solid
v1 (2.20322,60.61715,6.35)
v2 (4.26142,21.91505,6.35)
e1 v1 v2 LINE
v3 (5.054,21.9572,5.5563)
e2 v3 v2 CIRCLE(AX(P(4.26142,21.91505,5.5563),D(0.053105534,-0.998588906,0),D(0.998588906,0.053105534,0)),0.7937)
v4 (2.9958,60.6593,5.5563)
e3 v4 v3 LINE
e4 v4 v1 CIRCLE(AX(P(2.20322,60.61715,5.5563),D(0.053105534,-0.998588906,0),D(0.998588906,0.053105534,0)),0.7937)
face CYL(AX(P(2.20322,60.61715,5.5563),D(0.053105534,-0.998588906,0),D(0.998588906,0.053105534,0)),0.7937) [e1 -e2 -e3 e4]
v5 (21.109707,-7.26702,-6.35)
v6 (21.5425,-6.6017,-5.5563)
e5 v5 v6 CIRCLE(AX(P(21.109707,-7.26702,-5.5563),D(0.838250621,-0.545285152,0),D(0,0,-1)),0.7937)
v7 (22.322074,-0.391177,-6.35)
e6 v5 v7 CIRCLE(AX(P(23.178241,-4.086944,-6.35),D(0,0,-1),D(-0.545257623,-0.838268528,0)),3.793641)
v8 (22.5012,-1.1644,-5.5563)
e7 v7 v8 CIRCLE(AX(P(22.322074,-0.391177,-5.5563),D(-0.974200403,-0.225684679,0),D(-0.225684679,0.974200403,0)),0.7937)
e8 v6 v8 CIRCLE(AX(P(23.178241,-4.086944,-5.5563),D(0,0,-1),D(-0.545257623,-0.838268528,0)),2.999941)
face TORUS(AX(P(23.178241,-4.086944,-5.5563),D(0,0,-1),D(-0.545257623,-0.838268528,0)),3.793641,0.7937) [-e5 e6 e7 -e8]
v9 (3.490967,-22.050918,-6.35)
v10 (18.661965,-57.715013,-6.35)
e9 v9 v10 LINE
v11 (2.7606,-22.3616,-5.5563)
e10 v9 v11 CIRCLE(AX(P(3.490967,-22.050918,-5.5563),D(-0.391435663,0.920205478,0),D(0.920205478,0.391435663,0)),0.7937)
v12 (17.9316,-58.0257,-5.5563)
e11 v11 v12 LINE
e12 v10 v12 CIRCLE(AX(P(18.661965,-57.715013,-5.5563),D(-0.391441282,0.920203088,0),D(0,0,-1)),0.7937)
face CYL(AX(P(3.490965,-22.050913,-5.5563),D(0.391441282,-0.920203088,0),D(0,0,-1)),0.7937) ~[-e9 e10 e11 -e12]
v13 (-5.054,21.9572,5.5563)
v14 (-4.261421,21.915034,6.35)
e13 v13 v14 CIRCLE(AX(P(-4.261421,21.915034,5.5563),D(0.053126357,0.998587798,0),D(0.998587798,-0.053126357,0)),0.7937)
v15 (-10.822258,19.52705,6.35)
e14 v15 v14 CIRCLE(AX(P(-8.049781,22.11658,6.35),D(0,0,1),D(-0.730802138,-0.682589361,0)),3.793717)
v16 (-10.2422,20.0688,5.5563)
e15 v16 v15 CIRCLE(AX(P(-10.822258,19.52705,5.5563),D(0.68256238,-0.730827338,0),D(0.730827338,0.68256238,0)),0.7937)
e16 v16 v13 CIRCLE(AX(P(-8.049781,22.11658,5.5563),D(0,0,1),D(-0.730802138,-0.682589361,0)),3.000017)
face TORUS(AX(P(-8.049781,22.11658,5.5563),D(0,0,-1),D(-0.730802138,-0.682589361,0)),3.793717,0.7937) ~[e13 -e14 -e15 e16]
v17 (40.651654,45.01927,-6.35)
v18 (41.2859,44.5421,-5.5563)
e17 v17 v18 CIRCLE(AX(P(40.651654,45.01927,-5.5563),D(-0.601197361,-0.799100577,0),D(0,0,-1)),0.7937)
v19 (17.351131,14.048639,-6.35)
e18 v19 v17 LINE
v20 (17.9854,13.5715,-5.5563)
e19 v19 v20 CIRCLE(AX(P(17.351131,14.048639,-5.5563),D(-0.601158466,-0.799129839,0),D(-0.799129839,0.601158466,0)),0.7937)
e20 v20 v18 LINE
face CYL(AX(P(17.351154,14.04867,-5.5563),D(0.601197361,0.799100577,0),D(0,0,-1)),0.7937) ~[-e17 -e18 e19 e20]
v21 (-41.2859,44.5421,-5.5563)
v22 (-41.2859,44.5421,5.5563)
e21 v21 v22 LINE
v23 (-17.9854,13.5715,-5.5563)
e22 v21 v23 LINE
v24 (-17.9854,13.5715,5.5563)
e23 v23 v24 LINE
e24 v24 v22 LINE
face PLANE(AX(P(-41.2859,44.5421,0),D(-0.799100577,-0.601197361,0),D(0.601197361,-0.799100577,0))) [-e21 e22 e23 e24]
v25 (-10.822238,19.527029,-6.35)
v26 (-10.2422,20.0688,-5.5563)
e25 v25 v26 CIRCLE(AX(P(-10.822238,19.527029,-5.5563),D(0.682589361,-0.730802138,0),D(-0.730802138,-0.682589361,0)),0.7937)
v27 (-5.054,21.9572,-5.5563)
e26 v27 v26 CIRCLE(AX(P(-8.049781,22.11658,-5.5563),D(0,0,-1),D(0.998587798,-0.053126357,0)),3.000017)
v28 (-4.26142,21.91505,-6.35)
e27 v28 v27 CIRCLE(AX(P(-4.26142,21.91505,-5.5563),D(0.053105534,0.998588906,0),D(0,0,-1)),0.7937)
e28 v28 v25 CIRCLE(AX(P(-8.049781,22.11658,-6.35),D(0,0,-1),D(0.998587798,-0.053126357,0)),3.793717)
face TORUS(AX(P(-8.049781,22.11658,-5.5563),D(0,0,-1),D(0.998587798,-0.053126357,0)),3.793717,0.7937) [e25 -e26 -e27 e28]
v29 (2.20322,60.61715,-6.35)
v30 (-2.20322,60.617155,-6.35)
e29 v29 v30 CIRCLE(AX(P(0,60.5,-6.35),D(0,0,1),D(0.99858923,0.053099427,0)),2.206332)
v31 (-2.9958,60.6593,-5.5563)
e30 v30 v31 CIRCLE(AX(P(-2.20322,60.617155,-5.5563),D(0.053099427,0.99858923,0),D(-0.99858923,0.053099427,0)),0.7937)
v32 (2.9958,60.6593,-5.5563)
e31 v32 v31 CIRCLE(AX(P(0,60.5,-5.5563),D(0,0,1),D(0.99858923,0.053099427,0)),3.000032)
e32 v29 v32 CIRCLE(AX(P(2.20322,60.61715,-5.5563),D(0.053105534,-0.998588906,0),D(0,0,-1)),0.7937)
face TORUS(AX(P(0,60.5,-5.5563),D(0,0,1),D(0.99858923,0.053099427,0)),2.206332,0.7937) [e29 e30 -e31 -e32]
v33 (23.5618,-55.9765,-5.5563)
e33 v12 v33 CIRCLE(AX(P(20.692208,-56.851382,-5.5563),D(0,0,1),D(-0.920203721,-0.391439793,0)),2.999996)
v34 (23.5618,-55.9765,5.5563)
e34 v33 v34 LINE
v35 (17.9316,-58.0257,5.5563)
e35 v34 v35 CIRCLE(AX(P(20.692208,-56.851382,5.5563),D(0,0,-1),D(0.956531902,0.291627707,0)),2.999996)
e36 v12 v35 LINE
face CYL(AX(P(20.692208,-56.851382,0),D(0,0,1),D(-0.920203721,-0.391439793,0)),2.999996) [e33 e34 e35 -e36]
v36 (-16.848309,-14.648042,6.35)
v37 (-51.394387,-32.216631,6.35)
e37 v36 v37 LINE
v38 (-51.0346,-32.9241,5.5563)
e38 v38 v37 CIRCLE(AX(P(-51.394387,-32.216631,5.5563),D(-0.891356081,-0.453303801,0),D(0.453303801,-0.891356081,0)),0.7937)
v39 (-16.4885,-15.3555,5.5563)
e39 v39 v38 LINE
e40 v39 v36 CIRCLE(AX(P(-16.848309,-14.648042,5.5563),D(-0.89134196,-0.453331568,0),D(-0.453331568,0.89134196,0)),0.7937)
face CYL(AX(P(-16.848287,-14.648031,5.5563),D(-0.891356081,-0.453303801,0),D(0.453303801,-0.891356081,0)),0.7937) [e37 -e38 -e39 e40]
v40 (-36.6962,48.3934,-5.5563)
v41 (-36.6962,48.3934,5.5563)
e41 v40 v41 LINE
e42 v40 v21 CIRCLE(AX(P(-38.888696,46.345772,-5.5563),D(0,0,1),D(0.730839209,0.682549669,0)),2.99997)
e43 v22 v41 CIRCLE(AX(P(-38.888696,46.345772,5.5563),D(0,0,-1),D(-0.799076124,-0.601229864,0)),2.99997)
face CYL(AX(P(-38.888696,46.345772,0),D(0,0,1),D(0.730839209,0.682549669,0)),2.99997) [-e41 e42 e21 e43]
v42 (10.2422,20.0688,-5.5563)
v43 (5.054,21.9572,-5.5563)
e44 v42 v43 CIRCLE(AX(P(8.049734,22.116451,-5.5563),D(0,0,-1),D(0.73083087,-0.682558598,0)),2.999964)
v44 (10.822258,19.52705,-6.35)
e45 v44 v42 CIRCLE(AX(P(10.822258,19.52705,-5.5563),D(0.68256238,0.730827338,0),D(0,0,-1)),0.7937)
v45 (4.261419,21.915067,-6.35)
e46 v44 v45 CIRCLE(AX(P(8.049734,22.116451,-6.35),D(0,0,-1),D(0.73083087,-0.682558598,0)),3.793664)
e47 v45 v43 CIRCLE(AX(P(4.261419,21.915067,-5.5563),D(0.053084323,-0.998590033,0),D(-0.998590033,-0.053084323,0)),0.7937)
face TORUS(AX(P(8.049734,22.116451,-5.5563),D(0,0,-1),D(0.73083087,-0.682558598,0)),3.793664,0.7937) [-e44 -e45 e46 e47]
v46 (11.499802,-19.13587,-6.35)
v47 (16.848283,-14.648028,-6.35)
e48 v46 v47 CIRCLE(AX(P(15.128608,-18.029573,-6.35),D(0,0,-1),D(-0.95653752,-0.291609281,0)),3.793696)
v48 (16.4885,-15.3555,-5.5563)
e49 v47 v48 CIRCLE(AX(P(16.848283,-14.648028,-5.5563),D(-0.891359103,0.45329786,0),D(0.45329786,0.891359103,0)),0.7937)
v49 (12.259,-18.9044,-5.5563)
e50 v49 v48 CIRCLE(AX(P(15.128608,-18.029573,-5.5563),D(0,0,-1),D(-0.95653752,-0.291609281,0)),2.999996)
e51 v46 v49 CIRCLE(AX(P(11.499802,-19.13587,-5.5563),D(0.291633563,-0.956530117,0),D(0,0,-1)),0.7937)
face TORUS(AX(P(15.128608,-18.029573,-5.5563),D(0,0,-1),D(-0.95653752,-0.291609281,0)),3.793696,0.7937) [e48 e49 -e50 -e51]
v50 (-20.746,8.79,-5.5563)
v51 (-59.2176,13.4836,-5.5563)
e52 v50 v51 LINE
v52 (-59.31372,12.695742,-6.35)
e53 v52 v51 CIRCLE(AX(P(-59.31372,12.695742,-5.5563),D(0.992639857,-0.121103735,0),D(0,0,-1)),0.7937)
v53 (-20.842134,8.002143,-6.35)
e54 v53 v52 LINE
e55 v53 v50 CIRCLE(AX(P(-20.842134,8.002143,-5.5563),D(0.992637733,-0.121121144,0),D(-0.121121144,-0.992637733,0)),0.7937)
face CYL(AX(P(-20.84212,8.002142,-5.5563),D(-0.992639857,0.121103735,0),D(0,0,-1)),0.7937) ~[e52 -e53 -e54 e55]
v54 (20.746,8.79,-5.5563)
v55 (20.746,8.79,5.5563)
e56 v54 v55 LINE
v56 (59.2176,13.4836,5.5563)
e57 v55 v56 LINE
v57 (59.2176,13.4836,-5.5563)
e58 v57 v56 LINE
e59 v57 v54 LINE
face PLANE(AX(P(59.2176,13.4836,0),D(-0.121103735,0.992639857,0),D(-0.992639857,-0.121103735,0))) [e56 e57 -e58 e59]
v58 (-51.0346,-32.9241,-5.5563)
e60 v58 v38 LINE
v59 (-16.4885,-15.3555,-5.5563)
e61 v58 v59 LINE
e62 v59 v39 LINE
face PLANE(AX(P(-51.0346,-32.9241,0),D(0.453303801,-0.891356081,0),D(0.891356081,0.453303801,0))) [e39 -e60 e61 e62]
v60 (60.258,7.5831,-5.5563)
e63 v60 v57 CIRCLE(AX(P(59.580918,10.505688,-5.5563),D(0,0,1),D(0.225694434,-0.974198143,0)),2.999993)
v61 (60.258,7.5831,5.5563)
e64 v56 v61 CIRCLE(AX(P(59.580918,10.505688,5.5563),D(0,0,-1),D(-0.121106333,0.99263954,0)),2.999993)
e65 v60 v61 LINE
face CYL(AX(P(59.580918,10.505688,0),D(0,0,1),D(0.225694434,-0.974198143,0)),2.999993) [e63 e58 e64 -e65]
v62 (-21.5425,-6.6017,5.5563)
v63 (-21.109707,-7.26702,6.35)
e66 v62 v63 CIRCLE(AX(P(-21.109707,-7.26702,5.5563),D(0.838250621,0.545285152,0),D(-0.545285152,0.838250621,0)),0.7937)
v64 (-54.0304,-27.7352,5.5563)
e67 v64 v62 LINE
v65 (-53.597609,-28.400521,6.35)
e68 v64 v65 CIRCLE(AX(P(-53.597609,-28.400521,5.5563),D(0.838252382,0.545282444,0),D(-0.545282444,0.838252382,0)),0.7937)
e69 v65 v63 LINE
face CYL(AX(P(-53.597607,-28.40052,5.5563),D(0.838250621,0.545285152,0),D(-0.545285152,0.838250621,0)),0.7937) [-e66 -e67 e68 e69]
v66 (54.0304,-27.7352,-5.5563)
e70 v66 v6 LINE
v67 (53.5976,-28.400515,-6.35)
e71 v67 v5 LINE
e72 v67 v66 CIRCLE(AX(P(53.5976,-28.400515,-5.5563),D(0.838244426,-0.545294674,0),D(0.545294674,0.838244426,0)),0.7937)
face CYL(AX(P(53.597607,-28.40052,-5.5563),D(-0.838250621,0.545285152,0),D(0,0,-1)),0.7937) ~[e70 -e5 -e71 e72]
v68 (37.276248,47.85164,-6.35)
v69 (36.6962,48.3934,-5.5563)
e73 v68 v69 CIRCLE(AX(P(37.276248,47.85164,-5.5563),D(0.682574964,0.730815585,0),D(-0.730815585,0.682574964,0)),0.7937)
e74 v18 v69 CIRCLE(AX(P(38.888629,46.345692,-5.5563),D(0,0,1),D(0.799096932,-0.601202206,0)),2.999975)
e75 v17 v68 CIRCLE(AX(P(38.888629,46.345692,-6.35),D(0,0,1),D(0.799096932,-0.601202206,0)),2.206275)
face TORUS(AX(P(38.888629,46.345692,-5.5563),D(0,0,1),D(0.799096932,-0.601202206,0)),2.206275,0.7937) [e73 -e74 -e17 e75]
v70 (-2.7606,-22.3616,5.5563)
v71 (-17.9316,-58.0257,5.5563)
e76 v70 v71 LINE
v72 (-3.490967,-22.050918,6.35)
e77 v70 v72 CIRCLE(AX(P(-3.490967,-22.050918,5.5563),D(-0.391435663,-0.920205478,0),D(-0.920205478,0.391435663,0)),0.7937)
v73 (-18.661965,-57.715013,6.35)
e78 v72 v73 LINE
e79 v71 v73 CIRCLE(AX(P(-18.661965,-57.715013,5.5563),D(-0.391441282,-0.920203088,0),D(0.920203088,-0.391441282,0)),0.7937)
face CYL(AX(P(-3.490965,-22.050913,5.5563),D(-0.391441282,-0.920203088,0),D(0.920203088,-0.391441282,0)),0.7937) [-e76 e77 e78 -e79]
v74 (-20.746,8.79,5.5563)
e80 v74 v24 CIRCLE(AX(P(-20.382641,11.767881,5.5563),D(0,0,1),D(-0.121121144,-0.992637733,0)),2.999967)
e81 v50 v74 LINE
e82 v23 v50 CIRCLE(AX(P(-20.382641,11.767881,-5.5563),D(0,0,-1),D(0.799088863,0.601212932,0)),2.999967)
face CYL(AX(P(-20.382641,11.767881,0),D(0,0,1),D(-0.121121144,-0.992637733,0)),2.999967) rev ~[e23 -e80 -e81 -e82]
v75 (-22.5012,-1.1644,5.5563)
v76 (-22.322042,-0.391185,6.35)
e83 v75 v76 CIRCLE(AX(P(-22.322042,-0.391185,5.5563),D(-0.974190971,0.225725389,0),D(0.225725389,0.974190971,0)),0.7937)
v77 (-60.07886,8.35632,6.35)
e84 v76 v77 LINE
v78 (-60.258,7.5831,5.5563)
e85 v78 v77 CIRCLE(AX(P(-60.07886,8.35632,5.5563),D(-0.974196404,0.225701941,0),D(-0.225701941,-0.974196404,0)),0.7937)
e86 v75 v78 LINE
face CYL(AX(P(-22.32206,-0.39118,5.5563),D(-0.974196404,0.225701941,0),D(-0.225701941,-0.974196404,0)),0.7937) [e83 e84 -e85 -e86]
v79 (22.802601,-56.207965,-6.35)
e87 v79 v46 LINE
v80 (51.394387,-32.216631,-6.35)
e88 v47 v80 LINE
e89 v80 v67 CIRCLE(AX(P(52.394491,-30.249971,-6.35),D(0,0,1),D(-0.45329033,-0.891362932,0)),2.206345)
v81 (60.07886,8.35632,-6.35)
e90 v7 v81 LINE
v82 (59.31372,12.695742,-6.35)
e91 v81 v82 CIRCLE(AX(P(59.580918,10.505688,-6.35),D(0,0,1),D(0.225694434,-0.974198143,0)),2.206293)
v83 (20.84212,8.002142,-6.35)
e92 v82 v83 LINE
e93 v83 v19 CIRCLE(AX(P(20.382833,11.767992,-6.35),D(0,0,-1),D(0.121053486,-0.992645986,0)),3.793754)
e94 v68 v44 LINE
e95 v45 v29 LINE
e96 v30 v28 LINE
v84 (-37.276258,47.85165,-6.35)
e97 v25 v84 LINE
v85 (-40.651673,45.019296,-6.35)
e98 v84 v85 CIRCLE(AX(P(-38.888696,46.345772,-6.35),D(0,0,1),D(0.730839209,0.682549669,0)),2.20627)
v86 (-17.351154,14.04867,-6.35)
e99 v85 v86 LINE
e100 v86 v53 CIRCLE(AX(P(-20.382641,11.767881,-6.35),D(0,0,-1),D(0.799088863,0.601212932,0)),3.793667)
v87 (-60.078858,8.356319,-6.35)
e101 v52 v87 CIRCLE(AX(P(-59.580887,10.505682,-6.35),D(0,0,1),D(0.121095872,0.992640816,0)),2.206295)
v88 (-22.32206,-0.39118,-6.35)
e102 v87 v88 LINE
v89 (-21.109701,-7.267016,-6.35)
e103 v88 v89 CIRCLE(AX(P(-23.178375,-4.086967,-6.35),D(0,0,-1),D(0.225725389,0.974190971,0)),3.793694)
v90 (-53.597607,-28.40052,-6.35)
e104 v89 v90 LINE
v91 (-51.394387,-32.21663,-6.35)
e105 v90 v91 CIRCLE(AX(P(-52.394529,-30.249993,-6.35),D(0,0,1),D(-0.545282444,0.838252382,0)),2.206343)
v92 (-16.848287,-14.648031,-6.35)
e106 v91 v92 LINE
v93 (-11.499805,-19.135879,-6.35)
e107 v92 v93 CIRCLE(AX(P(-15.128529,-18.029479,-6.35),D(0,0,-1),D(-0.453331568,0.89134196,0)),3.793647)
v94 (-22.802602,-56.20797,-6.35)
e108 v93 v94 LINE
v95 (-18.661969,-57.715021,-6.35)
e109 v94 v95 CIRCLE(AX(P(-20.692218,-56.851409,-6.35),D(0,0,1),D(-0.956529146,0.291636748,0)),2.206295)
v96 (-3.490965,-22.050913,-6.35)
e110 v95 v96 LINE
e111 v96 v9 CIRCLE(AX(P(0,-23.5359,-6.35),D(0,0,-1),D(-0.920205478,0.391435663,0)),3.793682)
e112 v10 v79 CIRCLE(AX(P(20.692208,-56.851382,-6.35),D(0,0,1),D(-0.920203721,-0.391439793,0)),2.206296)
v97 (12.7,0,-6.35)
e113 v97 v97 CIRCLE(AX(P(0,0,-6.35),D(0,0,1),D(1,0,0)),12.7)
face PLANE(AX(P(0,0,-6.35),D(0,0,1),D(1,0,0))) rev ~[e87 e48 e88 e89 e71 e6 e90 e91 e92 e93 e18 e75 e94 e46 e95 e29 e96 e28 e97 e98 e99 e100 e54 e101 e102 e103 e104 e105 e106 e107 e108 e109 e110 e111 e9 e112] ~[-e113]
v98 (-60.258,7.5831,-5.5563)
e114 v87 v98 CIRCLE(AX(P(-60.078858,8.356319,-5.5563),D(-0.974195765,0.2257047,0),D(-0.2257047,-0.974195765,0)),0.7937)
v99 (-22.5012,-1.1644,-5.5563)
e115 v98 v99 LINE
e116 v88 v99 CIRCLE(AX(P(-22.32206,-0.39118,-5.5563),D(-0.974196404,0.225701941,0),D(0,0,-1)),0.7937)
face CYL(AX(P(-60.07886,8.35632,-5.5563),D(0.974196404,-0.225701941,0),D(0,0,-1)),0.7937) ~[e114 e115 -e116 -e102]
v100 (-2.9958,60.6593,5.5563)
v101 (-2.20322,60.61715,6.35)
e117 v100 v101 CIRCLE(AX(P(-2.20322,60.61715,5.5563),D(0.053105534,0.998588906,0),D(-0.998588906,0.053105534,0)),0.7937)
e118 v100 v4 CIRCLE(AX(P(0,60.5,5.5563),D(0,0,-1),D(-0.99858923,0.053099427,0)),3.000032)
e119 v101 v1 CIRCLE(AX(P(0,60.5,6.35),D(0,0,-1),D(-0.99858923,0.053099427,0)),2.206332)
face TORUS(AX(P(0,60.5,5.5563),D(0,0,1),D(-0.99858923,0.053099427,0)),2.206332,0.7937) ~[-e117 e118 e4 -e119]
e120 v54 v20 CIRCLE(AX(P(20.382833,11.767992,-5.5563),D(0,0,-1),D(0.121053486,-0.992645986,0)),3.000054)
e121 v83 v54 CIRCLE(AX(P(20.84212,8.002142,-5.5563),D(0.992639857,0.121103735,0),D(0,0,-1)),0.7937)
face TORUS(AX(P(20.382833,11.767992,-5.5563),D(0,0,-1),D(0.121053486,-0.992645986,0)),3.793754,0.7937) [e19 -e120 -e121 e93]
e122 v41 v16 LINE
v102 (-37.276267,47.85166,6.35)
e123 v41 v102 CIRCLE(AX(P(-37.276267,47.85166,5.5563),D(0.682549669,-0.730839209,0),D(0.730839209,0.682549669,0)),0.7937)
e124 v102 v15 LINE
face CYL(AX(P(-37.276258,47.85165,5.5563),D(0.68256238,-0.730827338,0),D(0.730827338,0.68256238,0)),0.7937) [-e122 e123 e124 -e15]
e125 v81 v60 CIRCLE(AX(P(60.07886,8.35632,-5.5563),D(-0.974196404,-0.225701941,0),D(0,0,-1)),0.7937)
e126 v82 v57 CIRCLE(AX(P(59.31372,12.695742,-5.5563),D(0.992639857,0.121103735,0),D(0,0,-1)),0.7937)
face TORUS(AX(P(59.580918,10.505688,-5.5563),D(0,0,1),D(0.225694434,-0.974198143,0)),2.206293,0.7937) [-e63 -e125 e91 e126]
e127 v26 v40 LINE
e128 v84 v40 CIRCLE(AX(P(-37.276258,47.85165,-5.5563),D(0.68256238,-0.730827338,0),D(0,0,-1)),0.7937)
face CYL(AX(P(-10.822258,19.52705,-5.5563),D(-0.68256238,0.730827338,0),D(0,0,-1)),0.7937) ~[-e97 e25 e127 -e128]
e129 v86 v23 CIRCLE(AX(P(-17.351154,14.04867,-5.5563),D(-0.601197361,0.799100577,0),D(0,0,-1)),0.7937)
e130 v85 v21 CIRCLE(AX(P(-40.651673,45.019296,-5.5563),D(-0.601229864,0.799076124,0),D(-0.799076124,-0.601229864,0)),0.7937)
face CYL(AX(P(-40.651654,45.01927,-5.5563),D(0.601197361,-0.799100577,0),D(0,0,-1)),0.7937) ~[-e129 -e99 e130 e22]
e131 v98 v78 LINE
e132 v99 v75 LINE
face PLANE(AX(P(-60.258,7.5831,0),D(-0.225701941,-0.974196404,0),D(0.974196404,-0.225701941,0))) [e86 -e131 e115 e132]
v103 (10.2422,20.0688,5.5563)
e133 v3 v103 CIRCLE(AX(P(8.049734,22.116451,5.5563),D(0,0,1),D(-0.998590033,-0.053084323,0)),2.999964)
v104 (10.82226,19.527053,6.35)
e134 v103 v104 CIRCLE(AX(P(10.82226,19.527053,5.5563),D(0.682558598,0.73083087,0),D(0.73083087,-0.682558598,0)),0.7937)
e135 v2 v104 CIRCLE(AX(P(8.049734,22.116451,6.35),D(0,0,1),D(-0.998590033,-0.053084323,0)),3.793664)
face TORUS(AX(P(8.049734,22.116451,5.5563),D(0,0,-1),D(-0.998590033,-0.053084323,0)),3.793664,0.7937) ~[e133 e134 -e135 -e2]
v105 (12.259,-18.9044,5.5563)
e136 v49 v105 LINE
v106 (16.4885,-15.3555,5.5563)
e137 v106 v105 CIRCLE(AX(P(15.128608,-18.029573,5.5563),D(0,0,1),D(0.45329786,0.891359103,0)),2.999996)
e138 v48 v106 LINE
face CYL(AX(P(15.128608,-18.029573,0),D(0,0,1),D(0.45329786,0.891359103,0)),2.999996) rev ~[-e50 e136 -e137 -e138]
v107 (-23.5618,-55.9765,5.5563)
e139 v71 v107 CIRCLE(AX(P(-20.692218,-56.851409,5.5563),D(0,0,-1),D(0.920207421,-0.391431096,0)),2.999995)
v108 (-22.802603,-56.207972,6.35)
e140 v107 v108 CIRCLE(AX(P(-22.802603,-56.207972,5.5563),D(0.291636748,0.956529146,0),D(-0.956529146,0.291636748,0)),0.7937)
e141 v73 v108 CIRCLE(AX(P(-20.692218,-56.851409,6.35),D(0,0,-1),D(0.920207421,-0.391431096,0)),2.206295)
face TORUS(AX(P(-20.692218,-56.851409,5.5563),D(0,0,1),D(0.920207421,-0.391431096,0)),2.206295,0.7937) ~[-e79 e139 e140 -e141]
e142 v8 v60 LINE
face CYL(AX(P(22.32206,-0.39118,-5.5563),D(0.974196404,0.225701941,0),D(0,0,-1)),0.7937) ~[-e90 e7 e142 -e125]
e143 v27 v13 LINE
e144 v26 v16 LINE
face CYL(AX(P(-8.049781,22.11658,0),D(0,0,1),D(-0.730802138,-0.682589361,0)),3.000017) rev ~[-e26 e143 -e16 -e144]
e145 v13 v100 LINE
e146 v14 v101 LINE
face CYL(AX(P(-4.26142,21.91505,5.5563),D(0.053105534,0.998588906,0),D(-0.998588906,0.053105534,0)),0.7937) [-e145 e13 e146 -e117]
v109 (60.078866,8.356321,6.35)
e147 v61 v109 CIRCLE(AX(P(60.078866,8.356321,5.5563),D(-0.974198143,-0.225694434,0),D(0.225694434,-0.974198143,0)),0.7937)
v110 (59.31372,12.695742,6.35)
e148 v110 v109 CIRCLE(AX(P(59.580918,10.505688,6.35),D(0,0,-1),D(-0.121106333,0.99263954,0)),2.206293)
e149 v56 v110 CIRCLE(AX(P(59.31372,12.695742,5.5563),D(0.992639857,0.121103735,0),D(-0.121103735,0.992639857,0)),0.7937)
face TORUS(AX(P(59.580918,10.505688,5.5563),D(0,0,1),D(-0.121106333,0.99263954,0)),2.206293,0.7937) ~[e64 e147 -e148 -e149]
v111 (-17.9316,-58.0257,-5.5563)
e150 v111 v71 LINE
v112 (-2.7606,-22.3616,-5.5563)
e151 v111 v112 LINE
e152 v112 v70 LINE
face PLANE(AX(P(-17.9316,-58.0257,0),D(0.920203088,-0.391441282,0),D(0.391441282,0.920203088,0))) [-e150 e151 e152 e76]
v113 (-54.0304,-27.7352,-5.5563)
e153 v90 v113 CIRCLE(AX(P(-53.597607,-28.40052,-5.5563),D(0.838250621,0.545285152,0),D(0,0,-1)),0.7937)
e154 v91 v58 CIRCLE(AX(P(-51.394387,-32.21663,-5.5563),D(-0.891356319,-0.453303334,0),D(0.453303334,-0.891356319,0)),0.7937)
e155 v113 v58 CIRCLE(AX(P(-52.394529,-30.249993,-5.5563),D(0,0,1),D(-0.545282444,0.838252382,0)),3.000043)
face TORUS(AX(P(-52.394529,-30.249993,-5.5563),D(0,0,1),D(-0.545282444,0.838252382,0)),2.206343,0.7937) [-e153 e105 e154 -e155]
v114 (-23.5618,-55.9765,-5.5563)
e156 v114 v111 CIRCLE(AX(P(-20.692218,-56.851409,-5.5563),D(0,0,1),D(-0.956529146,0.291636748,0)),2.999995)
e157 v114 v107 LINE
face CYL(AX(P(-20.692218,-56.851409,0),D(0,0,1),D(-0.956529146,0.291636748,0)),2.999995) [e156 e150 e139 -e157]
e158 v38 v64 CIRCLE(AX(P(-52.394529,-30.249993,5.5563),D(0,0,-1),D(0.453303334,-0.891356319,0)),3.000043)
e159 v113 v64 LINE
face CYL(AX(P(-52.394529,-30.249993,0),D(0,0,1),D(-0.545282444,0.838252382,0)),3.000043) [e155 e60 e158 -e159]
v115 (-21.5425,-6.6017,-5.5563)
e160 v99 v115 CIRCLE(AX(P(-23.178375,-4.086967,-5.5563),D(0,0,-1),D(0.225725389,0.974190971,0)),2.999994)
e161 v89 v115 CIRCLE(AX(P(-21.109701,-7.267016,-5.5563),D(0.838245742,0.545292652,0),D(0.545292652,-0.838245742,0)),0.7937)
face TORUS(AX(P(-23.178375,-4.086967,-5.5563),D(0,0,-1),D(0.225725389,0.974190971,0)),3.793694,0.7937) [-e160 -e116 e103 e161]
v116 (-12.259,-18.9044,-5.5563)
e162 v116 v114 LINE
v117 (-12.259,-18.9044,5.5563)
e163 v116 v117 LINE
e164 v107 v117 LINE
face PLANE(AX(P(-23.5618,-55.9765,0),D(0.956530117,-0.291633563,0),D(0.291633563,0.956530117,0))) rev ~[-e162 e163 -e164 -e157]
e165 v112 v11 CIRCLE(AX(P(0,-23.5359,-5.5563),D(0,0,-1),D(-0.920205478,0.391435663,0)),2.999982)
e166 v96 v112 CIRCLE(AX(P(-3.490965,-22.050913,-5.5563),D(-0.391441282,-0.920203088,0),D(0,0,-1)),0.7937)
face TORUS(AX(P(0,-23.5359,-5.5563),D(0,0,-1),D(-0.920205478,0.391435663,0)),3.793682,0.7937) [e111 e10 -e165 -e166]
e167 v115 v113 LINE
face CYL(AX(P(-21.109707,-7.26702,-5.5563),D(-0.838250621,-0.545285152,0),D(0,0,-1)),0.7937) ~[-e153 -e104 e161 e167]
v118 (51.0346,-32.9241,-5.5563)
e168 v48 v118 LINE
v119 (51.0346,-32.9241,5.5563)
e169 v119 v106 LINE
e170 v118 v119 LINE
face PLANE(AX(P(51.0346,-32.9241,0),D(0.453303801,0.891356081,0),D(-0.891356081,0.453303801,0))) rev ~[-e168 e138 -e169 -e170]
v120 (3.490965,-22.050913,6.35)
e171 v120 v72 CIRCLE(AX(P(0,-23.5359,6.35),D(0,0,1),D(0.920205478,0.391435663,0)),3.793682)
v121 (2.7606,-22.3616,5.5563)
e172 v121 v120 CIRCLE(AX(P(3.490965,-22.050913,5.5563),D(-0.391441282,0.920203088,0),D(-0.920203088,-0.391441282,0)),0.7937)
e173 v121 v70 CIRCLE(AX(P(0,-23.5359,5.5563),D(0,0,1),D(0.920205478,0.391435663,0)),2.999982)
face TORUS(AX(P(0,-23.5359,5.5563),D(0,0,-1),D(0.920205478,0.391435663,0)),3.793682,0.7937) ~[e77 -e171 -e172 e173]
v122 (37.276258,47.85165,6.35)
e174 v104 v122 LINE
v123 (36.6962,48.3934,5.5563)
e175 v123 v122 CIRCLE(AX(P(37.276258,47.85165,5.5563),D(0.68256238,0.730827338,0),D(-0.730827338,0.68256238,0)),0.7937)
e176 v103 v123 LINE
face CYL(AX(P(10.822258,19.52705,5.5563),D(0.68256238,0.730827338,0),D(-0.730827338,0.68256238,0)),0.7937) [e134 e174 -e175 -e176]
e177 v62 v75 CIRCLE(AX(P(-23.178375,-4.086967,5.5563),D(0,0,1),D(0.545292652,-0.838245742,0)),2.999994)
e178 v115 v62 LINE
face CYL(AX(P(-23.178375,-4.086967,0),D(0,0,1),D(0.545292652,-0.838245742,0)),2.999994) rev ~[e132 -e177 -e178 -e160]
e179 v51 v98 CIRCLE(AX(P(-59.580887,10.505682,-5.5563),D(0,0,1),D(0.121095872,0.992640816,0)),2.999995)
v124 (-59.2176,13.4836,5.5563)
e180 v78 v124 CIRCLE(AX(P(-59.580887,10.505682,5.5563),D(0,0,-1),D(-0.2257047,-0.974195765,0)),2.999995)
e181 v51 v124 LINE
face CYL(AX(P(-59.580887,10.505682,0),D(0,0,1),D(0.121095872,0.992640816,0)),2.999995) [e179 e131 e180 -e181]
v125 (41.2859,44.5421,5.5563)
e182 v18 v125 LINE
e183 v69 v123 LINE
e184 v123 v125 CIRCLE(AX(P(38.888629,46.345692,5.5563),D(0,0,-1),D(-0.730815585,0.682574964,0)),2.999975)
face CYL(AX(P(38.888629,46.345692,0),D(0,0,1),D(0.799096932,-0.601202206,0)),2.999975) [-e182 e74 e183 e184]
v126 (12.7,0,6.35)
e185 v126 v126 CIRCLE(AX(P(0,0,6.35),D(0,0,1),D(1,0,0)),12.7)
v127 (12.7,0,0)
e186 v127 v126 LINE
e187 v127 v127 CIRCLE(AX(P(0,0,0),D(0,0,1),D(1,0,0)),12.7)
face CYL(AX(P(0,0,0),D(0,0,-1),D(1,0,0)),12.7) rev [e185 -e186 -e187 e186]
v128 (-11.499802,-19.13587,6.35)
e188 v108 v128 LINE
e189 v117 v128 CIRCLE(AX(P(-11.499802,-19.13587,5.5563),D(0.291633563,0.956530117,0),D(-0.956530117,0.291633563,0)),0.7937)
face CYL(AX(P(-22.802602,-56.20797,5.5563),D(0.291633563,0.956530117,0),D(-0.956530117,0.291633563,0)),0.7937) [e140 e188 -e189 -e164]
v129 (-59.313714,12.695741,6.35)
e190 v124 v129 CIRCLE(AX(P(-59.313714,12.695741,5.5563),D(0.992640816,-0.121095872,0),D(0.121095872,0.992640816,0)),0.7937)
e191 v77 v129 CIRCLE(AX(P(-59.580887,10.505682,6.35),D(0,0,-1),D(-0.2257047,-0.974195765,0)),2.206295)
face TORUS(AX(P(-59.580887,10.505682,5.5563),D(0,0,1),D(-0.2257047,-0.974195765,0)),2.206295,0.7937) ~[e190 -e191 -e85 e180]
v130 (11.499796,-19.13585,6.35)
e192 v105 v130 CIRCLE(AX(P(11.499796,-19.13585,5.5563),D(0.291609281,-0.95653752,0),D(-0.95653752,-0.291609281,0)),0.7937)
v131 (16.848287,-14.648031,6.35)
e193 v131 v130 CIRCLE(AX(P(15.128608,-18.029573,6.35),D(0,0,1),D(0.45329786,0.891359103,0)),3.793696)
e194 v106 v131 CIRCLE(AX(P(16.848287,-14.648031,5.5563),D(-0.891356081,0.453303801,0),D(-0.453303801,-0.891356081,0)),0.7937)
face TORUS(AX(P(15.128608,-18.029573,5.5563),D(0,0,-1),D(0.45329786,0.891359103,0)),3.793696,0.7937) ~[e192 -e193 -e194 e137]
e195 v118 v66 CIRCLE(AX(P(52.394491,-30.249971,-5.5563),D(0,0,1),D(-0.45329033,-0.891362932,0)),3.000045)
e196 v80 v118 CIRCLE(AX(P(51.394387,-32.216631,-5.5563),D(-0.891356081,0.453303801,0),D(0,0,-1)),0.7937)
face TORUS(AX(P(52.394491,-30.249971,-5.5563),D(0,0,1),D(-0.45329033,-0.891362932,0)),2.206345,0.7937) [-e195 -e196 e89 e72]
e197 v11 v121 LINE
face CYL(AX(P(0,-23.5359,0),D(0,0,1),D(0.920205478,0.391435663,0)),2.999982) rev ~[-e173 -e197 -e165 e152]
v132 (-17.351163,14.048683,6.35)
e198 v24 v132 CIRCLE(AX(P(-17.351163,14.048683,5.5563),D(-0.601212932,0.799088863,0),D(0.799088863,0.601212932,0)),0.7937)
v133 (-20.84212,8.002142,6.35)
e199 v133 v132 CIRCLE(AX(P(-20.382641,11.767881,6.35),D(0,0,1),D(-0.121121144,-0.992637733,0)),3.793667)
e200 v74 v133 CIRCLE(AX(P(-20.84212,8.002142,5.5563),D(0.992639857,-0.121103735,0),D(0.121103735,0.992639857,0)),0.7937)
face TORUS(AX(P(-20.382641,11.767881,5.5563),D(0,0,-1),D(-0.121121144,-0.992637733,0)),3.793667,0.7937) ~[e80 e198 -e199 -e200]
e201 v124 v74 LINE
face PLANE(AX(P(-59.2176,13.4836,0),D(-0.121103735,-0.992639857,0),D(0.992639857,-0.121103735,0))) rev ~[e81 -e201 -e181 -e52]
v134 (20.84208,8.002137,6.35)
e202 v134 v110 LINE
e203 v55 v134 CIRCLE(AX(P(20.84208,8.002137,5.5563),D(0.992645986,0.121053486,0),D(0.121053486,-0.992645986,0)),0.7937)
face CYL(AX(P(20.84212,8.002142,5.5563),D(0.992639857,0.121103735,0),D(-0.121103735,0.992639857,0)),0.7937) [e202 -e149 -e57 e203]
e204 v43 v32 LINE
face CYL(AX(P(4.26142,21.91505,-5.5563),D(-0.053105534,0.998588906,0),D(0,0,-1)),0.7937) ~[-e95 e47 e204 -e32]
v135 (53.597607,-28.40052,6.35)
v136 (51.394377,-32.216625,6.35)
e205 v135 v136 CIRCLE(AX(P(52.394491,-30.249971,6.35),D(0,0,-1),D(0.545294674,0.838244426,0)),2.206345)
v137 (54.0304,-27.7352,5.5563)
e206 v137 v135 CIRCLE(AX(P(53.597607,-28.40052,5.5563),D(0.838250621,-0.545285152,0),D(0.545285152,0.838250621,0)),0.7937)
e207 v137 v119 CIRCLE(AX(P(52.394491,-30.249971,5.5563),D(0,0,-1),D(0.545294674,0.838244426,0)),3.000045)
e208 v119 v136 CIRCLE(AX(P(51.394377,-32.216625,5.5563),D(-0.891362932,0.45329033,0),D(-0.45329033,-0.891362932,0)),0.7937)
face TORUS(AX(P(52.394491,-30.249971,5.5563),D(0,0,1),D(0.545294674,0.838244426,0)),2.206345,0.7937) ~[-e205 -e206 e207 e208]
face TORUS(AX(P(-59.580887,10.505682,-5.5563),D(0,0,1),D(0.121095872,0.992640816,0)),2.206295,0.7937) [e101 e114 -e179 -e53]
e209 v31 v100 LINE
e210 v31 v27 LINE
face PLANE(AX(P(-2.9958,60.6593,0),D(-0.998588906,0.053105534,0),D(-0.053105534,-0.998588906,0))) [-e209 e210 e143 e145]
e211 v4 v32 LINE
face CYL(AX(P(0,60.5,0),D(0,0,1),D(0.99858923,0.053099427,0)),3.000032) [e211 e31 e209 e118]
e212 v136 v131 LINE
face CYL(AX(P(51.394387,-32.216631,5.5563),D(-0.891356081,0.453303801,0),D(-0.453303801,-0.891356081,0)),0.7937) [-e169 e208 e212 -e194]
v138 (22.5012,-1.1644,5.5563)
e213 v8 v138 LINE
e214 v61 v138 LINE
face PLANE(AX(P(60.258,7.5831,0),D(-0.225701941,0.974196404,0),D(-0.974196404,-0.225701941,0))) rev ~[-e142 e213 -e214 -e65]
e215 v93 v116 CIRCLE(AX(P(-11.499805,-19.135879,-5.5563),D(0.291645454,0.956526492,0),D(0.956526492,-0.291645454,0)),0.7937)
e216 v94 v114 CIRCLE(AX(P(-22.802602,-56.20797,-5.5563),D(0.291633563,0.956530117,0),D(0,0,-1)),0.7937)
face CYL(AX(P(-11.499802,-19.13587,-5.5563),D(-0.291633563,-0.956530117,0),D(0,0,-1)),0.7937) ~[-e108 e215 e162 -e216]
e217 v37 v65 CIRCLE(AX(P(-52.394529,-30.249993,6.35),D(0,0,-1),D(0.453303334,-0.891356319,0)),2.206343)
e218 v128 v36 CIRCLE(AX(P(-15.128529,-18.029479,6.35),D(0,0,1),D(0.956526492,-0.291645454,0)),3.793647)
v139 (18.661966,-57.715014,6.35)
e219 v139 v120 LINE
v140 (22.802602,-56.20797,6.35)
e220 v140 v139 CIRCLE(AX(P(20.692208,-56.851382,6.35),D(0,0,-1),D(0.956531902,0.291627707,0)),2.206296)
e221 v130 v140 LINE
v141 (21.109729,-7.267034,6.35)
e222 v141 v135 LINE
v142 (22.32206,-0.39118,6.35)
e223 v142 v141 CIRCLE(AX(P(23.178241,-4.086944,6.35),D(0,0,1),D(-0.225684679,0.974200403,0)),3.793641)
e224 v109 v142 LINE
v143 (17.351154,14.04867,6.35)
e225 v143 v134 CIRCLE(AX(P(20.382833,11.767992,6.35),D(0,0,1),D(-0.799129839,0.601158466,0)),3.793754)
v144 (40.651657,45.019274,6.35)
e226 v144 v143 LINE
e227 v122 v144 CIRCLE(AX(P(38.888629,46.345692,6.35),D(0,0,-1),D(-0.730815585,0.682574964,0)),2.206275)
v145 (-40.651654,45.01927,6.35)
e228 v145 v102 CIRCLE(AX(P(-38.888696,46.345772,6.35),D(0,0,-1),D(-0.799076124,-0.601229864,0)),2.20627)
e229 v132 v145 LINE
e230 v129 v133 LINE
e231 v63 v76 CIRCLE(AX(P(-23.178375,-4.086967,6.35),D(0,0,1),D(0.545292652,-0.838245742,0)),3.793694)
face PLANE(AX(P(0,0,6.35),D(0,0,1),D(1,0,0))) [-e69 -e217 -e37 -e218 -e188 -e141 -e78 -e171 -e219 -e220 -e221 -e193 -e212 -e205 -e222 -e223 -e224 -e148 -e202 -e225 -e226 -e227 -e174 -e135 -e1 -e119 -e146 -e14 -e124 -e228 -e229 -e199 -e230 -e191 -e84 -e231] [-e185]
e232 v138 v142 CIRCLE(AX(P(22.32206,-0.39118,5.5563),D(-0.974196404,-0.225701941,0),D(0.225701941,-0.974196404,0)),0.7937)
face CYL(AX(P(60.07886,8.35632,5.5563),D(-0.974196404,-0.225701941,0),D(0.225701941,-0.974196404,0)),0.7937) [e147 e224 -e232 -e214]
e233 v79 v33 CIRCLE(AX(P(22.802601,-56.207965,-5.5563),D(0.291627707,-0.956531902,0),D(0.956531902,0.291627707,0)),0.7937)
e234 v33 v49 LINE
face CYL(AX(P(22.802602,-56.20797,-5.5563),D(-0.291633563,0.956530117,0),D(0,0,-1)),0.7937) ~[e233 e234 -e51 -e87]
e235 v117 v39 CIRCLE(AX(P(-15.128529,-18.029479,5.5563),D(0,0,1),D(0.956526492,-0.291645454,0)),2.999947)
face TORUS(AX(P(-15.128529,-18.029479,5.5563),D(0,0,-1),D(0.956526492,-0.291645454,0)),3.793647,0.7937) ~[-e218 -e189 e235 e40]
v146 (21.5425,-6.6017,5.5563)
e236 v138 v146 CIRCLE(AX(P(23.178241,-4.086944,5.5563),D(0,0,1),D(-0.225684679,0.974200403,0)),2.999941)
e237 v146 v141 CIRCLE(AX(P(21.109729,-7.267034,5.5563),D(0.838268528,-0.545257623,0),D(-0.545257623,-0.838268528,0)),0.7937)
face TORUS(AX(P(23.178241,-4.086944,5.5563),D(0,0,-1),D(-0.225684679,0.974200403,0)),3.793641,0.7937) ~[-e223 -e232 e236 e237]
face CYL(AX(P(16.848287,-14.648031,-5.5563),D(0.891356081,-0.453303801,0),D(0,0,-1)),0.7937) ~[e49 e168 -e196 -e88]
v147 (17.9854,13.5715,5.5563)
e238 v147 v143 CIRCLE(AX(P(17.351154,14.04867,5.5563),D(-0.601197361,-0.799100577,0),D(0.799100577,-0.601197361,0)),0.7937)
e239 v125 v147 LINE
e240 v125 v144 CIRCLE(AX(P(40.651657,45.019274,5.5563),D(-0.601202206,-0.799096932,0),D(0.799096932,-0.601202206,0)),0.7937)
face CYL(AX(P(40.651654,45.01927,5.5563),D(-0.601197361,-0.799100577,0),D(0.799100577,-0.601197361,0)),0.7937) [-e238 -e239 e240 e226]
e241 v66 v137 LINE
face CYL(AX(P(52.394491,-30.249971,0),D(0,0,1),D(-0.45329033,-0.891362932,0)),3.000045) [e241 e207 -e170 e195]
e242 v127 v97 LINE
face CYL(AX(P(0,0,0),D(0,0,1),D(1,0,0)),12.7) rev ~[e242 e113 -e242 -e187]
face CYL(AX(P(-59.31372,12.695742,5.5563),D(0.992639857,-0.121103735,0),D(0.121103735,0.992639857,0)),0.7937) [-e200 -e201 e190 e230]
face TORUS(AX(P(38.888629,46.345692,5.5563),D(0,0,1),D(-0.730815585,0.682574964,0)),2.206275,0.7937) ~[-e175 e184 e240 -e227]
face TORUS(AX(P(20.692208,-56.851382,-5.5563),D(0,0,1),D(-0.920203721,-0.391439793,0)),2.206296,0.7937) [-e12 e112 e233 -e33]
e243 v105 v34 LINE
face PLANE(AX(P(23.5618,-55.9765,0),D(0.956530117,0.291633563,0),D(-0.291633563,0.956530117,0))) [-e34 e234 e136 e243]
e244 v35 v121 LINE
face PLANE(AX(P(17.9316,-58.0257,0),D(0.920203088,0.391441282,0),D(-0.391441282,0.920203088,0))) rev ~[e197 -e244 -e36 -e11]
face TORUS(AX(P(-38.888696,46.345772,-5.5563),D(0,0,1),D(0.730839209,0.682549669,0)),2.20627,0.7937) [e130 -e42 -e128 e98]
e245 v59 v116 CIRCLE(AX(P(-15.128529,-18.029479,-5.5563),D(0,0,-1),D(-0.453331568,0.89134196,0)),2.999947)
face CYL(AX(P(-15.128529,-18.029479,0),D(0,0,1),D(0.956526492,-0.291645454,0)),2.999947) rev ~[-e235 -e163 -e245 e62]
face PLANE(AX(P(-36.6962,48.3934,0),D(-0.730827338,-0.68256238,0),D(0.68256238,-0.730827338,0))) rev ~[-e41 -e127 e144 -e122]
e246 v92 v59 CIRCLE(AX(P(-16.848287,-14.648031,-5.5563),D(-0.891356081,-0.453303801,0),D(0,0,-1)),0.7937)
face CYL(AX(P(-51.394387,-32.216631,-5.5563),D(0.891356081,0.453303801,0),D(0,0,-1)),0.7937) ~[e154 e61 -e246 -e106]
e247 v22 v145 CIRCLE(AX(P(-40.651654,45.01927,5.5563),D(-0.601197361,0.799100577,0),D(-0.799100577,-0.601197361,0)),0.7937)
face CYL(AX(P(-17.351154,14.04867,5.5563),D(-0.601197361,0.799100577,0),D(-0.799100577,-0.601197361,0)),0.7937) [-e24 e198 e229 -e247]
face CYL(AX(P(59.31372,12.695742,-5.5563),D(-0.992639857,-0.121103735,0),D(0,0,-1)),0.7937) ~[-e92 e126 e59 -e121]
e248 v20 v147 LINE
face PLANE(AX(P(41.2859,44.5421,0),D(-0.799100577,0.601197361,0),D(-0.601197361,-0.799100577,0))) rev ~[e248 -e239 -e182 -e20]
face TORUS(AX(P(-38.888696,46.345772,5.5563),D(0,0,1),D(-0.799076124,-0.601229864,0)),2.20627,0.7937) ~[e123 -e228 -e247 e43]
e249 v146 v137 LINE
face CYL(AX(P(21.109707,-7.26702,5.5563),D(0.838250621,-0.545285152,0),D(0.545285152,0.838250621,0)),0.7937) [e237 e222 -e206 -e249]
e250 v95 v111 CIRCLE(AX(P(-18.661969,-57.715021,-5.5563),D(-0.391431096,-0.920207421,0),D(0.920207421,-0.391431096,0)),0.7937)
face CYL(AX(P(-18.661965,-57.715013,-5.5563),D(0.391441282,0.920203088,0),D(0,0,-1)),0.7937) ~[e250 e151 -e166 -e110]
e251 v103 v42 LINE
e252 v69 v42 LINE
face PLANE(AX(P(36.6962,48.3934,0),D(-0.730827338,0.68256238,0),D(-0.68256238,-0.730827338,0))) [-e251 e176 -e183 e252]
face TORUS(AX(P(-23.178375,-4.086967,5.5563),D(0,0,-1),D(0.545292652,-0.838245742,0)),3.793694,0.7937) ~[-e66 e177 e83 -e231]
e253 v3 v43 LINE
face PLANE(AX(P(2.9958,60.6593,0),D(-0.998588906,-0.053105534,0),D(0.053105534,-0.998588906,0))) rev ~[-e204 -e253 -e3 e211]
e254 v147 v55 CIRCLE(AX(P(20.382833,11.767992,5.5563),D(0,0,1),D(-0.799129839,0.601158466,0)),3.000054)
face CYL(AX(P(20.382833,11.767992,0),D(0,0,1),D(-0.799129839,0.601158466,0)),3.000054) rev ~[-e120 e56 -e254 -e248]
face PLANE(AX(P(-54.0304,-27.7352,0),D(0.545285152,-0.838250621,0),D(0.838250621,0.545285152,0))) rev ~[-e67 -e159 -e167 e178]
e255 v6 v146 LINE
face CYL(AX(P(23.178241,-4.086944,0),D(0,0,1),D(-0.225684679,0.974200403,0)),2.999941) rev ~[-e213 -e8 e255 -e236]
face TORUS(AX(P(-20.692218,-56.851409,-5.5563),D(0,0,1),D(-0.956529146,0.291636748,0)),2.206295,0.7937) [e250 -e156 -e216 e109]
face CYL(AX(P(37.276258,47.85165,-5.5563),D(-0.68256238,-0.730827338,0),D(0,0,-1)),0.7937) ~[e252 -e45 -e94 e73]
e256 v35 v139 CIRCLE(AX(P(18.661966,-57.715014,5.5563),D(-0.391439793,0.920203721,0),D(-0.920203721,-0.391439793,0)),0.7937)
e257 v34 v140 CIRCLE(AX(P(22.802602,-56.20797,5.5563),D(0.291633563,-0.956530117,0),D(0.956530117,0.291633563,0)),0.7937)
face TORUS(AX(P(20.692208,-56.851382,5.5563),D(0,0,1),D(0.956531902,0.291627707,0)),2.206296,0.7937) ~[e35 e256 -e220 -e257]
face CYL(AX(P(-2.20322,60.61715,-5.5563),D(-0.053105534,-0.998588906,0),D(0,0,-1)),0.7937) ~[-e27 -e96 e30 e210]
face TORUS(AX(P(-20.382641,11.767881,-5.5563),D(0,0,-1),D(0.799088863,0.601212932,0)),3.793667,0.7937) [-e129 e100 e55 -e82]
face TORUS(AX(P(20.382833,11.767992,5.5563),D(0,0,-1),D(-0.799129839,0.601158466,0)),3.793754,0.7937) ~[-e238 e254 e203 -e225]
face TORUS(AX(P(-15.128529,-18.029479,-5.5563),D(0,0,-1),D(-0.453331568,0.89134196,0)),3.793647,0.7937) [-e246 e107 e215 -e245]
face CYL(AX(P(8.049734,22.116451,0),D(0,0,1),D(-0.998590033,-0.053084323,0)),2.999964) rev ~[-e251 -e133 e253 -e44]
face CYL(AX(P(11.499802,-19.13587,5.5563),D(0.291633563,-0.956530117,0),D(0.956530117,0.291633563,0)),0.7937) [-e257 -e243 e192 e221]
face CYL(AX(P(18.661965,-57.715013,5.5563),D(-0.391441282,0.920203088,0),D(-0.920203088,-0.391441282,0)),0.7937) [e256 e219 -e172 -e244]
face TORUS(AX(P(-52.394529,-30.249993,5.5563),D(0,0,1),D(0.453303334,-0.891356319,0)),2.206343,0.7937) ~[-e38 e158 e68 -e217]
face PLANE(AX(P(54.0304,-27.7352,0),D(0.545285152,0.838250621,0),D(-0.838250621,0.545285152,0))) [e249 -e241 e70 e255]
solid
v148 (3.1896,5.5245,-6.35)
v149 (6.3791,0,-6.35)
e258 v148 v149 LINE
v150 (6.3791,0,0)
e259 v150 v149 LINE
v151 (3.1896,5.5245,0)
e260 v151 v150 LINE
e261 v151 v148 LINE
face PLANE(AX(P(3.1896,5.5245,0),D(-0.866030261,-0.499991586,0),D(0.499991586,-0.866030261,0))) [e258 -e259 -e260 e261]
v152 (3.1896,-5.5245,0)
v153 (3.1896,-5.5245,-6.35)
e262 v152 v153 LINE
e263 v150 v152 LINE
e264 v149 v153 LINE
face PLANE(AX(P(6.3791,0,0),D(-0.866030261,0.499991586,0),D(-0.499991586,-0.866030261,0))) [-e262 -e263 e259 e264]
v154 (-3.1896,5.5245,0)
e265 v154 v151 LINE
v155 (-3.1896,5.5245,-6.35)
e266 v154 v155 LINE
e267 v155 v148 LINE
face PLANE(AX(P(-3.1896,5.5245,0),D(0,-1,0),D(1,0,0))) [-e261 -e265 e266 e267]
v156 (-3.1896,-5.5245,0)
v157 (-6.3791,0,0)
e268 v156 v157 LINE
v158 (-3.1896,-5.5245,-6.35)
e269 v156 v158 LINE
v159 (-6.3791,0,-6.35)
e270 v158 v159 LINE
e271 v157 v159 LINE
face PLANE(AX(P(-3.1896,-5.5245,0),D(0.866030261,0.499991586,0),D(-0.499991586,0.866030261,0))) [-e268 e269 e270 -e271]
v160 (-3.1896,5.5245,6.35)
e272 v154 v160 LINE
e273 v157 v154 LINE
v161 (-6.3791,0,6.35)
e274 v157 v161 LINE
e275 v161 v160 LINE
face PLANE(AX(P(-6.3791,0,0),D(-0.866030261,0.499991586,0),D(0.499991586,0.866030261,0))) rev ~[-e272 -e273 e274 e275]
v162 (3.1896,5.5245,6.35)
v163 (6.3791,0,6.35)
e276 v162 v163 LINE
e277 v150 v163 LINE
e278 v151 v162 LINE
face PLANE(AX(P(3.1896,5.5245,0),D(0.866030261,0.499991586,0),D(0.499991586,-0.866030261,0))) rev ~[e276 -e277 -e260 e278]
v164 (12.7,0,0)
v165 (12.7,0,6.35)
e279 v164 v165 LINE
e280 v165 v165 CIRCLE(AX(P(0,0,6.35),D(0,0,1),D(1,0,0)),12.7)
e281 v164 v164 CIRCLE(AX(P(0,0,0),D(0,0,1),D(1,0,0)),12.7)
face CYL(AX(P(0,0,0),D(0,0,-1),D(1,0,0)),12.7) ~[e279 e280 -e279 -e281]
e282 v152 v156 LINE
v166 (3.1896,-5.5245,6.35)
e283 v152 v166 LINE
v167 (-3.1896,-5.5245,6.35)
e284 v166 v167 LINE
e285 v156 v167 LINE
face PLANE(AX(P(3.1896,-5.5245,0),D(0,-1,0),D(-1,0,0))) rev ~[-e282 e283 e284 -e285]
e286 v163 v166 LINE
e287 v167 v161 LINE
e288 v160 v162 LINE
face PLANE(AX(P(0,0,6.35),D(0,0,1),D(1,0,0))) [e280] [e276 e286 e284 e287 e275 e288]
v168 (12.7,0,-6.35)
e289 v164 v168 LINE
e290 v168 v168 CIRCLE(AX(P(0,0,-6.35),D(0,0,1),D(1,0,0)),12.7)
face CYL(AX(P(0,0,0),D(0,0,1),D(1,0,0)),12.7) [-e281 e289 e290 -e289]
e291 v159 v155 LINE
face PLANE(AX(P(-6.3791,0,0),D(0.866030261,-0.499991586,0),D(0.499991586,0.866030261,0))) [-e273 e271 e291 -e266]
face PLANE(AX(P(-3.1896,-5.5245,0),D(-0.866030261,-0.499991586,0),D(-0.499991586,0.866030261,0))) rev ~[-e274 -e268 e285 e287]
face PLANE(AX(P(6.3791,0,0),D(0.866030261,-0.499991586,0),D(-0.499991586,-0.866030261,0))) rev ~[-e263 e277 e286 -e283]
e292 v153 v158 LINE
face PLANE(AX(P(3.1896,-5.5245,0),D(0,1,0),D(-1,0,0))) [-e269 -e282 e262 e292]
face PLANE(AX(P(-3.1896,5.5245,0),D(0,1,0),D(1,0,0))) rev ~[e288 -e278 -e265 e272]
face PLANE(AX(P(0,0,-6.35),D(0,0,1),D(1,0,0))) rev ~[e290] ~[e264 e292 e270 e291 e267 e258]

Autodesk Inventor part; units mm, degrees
ref_plane "YZ Plane" through (0, 0, 0) normal (1, 0, 0) x (0, 1, 0)
ref_plane "XZ Plane" through (0, 0, 0) normal (0, 1, 0) x (-1, 0, 0)
ref_plane "XY Plane" through (0, 0, 0) normal (0, 0, 1) x (1, 0, 0)
sketch "Sketch1" plane through (0, 0, 0) normal (0, 0, 1) x (1, 0, 0)
  circle A0 centre (0, 0) radius 12.7
  line L0 (-6.3791, 0) -> (-3.1896, 5.5245)
  line L1 (-3.1896, 5.5245) -> (3.1896, 5.5245)
  line L2 (3.1896, 5.5245) -> (6.3791, 0)
  line L3 (6.3791, 0) -> (3.1896, -5.5245)
  line L4 (3.1896, -5.5245) -> (-3.1896, -5.5245)
  line L5 (-3.1896, -5.5245) -> (-6.3791, 0)
  circle A1 centre (0, 0) radius 63.5 construction
  line L6 (-2.9958, 60.6593) -> (-5.054, 21.9572)
  line L7 (2.9958, 60.6593) -> (5.054, 21.9572)
  arc A2 (2.9958, 60.6593) -> (-2.9958, 60.6593) centre (0, 60.5) ccw
  arc A3 (-10.2422, 20.0688) -> (-5.054, 21.9572) centre (-8.0498, 22.1165) ccw
  arc A4 (-36.6962, 48.3934) -> (-41.2859, 44.5421) centre (-38.8887, 46.3457) ccw
  line L8 (-36.6962, 48.3934) -> (-10.2422, 20.0688)
  line L9 (-41.2859, 44.5421) -> (-17.9854, 13.5715)
  arc A5 (-20.746, 8.79) -> (-17.9854, 13.5715) centre (-20.3827, 11.768) ccw
  arc A6 (-59.2176, 13.4836) -> (-60.258, 7.5831) centre (-59.5809, 10.5057) ccw
  line L10 (-59.2176, 13.4836) -> (-20.746, 8.79)
  line L11 (-60.258, 7.5831) -> (-22.5012, -1.1644)
  arc A7 (-21.5425, -6.6017) -> (-22.5012, -1.1644) centre (-23.1783, -4.087) ccw
  arc A8 (-54.0304, -27.7352) -> (-51.0346, -32.9241) centre (-52.3945, -30.25) ccw
  line L12 (-54.0304, -27.7352) -> (-21.5425, -6.6017)
  line L13 (-51.0346, -32.9241) -> (-16.4885, -15.3555)
  arc A9 (-12.259, -18.9044) -> (-16.4885, -15.3555) centre (-15.1286, -18.0295) ccw
  arc A10 (-23.5618, -55.9765) -> (-17.9316, -58.0257) centre (-20.6922, -56.8514) ccw
  line L14 (-23.5618, -55.9765) -> (-12.259, -18.9044)
  line L15 (-17.9316, -58.0257) -> (-2.7606, -22.3616)
  arc A11 (2.7606, -22.3616) -> (-2.7606, -22.3616) centre (0, -23.5359) ccw
  arc A12 (17.9316, -58.0257) -> (23.5618, -55.9765) centre (20.6922, -56.8514) ccw
  line L16 (17.9316, -58.0257) -> (2.7606, -22.3616)
  line L17 (23.5618, -55.9765) -> (12.259, -18.9044)
  arc A13 (16.4885, -15.3555) -> (12.259, -18.9044) centre (15.1286, -18.0295) ccw
  arc A14 (51.0346, -32.9241) -> (54.0304, -27.7352) centre (52.3945, -30.25) ccw
  line L18 (51.0346, -32.9241) -> (16.4885, -15.3555)
  line L19 (54.0304, -27.7352) -> (21.5425, -6.6017)
  arc A15 (22.5012, -1.1644) -> (21.5425, -6.6017) centre (23.1783, -4.087) ccw
  arc A16 (60.258, 7.5831) -> (59.2176, 13.4836) centre (59.5809, 10.5057) ccw
  line L20 (60.258, 7.5831) -> (22.5012, -1.1644)
  line L21 (59.2176, 13.4836) -> (20.746, 8.79)
  arc A17 (17.9854, 13.5715) -> (20.746, 8.79) centre (20.3827, 11.768) ccw
  arc A18 (41.2859, 44.5421) -> (36.6962, 48.3934) centre (38.8887, 46.3457) ccw
  line L22 (41.2859, 44.5421) -> (17.9854, 13.5715)
  line L23 (36.6962, 48.3934) -> (10.2422, 20.0688)
  arc A19 (5.054, 21.9572) -> (10.2422, 20.0688) centre (8.0498, 22.1165) ccw
  line L24 (0, 0) -> (0, 70.6946) construction
  circle A20 centre (0, 0) radius 20.5359 construction
  circle A21 centre (0, 0) radius 15.9004
  circle A22 centre (0, 0) radius 15.875
  circle A23 centre (0, 0) radius 6.3791
  point P0 (-10.2422, 20.0688)
  point P1 (-20.746, 8.79)
  point P2 (-21.5425, -6.6017)
  point P3 (-12.259, -18.9044)
  point P4 (2.7606, -22.3616)
  point P5 (16.4885, -15.3555)
  point P6 (22.5012, -1.1644)
  point P7 (17.9854, 13.5715)
  dimension "d0" = 25.4
  dimension "d1" = 11.049
  dimension "d2" = 127
  dimension "d3" = 3
  dimension "d7" = 360
  dimension "d9" = 41.0718
  dimension "d15" = 0.0254
  dimension "d16" = 3.175
  dimension "d19" = 6.3209
extrude "Body" add sketch "Sketch1" along normal mid plane 12.7 contours A2 L7 A19 L23 A18 L22 A17 L21 A16 L20 A15 L19 A14 L18 A13 L17 A12 L16 A11 L15 A10 L14 A9 L13 A8 L12 A7 L11 A6 L10 A5 L9 A4 L8 A3 L6 | A21 | A22
fillet "Fillet1" radius 0.7937 72 edges at (4.0249, 41.3083, 6.35) (0, 63.5, 6.35) (-4.0249, 41.3083, 6.35) (-7.0237, 19.2974, 6.35) (-23.4692, 34.2311, 6.35) (-40.817, 48.6438, 6.35) (-29.6357, 29.0568, 6.35) (-17.7846, 10.268, 6.35) (-39.9818, 11.1368, 6.35) (-62.5353, 11.0267, 6.35) (-41.3796, 3.2094, 6.35) (-20.2239, -3.566, 6.35) (-37.7864, -17.1685, 6.35) (-54.9926, -31.75, 6.35) (-33.7616, -24.1398, 6.35) (-13.2002, -15.7314, 6.35) (-17.9104, -37.4405, 6.35) (-21.7183, -59.6705, 6.35) (-10.3461, -40.1937, 6.35) (0, -20.5359, 6.35) (10.3461, -40.1937, 6.35) (21.7183, -59.6705, 6.35) (17.9104, -37.4405, 6.35) (13.2002, -15.7314, 6.35) (33.7616, -24.1398, 6.35) (54.9926, -31.75, 6.35) (37.7864, -17.1685, 6.35) (20.2239, -3.566, 6.35) (41.3796, 3.2094, 6.35) (62.5353, 11.0267, 6.35) (39.9818, 11.1368, 6.35) (17.7846, 10.268, 6.35) (29.6357, 29.0568, 6.35) (40.817, 48.6438, 6.35) (23.4692, 34.2311, 6.35) (7.0237, 19.2974, 6.35) (39.9818, 11.1368, -6.35) (62.5353, 11.0267, -6.35) (41.3796, 3.2094, -6.35) (20.2239, -3.566, -6.35) (37.7864, -17.1685, -6.35) (54.9926, -31.75, -6.35) (33.7616, -24.1398, -6.35) (13.2002, -15.7314, -6.35) (17.9104, -37.4405, -6.35) (21.7183, -59.6705, -6.35) (10.3461, -40.1937, -6.35) (0, -20.5359, -6.35) (-10.3461, -40.1937, -6.35) (-21.7183, -59.6705, -6.35) (-17.9104, -37.4405, -6.35) (-13.2002, -15.7314, -6.35) (-33.7616, -24.1398, -6.35) (-54.9926, -31.75, -6.35) (-37.7864, -17.1685, -6.35) (-20.2239, -3.566, -6.35) (-41.3796, 3.2094, -6.35) (-62.5353, 11.0267, -6.35) (-39.9818, 11.1368, -6.35) (-17.7846, 10.268, -6.35) (-29.6357, 29.0568, -6.35) (-40.817, 48.6438, -6.35) (-23.4692, 34.2311, -6.35) (-7.0237, 19.2974, -6.35) (-4.0249, 41.3083, -6.35) (0, 63.5, -6.35) (4.0249, 41.3083, -6.35) (7.0237, 19.2974, -6.35) (23.4692, 34.2311, -6.35) (40.817, 48.6438, -6.35) (29.6357, 29.0568, -6.35) (17.7846, 10.268, -6.35)
extrude "Extrusion2" add sketch "Sketch1" along normal mid plane 12.7 separate body contours A0 | A23 L0 | L5 A23 | A23 L1 | L4 A23 | A23 L2 | L3 A23
properties material "Rubber"
